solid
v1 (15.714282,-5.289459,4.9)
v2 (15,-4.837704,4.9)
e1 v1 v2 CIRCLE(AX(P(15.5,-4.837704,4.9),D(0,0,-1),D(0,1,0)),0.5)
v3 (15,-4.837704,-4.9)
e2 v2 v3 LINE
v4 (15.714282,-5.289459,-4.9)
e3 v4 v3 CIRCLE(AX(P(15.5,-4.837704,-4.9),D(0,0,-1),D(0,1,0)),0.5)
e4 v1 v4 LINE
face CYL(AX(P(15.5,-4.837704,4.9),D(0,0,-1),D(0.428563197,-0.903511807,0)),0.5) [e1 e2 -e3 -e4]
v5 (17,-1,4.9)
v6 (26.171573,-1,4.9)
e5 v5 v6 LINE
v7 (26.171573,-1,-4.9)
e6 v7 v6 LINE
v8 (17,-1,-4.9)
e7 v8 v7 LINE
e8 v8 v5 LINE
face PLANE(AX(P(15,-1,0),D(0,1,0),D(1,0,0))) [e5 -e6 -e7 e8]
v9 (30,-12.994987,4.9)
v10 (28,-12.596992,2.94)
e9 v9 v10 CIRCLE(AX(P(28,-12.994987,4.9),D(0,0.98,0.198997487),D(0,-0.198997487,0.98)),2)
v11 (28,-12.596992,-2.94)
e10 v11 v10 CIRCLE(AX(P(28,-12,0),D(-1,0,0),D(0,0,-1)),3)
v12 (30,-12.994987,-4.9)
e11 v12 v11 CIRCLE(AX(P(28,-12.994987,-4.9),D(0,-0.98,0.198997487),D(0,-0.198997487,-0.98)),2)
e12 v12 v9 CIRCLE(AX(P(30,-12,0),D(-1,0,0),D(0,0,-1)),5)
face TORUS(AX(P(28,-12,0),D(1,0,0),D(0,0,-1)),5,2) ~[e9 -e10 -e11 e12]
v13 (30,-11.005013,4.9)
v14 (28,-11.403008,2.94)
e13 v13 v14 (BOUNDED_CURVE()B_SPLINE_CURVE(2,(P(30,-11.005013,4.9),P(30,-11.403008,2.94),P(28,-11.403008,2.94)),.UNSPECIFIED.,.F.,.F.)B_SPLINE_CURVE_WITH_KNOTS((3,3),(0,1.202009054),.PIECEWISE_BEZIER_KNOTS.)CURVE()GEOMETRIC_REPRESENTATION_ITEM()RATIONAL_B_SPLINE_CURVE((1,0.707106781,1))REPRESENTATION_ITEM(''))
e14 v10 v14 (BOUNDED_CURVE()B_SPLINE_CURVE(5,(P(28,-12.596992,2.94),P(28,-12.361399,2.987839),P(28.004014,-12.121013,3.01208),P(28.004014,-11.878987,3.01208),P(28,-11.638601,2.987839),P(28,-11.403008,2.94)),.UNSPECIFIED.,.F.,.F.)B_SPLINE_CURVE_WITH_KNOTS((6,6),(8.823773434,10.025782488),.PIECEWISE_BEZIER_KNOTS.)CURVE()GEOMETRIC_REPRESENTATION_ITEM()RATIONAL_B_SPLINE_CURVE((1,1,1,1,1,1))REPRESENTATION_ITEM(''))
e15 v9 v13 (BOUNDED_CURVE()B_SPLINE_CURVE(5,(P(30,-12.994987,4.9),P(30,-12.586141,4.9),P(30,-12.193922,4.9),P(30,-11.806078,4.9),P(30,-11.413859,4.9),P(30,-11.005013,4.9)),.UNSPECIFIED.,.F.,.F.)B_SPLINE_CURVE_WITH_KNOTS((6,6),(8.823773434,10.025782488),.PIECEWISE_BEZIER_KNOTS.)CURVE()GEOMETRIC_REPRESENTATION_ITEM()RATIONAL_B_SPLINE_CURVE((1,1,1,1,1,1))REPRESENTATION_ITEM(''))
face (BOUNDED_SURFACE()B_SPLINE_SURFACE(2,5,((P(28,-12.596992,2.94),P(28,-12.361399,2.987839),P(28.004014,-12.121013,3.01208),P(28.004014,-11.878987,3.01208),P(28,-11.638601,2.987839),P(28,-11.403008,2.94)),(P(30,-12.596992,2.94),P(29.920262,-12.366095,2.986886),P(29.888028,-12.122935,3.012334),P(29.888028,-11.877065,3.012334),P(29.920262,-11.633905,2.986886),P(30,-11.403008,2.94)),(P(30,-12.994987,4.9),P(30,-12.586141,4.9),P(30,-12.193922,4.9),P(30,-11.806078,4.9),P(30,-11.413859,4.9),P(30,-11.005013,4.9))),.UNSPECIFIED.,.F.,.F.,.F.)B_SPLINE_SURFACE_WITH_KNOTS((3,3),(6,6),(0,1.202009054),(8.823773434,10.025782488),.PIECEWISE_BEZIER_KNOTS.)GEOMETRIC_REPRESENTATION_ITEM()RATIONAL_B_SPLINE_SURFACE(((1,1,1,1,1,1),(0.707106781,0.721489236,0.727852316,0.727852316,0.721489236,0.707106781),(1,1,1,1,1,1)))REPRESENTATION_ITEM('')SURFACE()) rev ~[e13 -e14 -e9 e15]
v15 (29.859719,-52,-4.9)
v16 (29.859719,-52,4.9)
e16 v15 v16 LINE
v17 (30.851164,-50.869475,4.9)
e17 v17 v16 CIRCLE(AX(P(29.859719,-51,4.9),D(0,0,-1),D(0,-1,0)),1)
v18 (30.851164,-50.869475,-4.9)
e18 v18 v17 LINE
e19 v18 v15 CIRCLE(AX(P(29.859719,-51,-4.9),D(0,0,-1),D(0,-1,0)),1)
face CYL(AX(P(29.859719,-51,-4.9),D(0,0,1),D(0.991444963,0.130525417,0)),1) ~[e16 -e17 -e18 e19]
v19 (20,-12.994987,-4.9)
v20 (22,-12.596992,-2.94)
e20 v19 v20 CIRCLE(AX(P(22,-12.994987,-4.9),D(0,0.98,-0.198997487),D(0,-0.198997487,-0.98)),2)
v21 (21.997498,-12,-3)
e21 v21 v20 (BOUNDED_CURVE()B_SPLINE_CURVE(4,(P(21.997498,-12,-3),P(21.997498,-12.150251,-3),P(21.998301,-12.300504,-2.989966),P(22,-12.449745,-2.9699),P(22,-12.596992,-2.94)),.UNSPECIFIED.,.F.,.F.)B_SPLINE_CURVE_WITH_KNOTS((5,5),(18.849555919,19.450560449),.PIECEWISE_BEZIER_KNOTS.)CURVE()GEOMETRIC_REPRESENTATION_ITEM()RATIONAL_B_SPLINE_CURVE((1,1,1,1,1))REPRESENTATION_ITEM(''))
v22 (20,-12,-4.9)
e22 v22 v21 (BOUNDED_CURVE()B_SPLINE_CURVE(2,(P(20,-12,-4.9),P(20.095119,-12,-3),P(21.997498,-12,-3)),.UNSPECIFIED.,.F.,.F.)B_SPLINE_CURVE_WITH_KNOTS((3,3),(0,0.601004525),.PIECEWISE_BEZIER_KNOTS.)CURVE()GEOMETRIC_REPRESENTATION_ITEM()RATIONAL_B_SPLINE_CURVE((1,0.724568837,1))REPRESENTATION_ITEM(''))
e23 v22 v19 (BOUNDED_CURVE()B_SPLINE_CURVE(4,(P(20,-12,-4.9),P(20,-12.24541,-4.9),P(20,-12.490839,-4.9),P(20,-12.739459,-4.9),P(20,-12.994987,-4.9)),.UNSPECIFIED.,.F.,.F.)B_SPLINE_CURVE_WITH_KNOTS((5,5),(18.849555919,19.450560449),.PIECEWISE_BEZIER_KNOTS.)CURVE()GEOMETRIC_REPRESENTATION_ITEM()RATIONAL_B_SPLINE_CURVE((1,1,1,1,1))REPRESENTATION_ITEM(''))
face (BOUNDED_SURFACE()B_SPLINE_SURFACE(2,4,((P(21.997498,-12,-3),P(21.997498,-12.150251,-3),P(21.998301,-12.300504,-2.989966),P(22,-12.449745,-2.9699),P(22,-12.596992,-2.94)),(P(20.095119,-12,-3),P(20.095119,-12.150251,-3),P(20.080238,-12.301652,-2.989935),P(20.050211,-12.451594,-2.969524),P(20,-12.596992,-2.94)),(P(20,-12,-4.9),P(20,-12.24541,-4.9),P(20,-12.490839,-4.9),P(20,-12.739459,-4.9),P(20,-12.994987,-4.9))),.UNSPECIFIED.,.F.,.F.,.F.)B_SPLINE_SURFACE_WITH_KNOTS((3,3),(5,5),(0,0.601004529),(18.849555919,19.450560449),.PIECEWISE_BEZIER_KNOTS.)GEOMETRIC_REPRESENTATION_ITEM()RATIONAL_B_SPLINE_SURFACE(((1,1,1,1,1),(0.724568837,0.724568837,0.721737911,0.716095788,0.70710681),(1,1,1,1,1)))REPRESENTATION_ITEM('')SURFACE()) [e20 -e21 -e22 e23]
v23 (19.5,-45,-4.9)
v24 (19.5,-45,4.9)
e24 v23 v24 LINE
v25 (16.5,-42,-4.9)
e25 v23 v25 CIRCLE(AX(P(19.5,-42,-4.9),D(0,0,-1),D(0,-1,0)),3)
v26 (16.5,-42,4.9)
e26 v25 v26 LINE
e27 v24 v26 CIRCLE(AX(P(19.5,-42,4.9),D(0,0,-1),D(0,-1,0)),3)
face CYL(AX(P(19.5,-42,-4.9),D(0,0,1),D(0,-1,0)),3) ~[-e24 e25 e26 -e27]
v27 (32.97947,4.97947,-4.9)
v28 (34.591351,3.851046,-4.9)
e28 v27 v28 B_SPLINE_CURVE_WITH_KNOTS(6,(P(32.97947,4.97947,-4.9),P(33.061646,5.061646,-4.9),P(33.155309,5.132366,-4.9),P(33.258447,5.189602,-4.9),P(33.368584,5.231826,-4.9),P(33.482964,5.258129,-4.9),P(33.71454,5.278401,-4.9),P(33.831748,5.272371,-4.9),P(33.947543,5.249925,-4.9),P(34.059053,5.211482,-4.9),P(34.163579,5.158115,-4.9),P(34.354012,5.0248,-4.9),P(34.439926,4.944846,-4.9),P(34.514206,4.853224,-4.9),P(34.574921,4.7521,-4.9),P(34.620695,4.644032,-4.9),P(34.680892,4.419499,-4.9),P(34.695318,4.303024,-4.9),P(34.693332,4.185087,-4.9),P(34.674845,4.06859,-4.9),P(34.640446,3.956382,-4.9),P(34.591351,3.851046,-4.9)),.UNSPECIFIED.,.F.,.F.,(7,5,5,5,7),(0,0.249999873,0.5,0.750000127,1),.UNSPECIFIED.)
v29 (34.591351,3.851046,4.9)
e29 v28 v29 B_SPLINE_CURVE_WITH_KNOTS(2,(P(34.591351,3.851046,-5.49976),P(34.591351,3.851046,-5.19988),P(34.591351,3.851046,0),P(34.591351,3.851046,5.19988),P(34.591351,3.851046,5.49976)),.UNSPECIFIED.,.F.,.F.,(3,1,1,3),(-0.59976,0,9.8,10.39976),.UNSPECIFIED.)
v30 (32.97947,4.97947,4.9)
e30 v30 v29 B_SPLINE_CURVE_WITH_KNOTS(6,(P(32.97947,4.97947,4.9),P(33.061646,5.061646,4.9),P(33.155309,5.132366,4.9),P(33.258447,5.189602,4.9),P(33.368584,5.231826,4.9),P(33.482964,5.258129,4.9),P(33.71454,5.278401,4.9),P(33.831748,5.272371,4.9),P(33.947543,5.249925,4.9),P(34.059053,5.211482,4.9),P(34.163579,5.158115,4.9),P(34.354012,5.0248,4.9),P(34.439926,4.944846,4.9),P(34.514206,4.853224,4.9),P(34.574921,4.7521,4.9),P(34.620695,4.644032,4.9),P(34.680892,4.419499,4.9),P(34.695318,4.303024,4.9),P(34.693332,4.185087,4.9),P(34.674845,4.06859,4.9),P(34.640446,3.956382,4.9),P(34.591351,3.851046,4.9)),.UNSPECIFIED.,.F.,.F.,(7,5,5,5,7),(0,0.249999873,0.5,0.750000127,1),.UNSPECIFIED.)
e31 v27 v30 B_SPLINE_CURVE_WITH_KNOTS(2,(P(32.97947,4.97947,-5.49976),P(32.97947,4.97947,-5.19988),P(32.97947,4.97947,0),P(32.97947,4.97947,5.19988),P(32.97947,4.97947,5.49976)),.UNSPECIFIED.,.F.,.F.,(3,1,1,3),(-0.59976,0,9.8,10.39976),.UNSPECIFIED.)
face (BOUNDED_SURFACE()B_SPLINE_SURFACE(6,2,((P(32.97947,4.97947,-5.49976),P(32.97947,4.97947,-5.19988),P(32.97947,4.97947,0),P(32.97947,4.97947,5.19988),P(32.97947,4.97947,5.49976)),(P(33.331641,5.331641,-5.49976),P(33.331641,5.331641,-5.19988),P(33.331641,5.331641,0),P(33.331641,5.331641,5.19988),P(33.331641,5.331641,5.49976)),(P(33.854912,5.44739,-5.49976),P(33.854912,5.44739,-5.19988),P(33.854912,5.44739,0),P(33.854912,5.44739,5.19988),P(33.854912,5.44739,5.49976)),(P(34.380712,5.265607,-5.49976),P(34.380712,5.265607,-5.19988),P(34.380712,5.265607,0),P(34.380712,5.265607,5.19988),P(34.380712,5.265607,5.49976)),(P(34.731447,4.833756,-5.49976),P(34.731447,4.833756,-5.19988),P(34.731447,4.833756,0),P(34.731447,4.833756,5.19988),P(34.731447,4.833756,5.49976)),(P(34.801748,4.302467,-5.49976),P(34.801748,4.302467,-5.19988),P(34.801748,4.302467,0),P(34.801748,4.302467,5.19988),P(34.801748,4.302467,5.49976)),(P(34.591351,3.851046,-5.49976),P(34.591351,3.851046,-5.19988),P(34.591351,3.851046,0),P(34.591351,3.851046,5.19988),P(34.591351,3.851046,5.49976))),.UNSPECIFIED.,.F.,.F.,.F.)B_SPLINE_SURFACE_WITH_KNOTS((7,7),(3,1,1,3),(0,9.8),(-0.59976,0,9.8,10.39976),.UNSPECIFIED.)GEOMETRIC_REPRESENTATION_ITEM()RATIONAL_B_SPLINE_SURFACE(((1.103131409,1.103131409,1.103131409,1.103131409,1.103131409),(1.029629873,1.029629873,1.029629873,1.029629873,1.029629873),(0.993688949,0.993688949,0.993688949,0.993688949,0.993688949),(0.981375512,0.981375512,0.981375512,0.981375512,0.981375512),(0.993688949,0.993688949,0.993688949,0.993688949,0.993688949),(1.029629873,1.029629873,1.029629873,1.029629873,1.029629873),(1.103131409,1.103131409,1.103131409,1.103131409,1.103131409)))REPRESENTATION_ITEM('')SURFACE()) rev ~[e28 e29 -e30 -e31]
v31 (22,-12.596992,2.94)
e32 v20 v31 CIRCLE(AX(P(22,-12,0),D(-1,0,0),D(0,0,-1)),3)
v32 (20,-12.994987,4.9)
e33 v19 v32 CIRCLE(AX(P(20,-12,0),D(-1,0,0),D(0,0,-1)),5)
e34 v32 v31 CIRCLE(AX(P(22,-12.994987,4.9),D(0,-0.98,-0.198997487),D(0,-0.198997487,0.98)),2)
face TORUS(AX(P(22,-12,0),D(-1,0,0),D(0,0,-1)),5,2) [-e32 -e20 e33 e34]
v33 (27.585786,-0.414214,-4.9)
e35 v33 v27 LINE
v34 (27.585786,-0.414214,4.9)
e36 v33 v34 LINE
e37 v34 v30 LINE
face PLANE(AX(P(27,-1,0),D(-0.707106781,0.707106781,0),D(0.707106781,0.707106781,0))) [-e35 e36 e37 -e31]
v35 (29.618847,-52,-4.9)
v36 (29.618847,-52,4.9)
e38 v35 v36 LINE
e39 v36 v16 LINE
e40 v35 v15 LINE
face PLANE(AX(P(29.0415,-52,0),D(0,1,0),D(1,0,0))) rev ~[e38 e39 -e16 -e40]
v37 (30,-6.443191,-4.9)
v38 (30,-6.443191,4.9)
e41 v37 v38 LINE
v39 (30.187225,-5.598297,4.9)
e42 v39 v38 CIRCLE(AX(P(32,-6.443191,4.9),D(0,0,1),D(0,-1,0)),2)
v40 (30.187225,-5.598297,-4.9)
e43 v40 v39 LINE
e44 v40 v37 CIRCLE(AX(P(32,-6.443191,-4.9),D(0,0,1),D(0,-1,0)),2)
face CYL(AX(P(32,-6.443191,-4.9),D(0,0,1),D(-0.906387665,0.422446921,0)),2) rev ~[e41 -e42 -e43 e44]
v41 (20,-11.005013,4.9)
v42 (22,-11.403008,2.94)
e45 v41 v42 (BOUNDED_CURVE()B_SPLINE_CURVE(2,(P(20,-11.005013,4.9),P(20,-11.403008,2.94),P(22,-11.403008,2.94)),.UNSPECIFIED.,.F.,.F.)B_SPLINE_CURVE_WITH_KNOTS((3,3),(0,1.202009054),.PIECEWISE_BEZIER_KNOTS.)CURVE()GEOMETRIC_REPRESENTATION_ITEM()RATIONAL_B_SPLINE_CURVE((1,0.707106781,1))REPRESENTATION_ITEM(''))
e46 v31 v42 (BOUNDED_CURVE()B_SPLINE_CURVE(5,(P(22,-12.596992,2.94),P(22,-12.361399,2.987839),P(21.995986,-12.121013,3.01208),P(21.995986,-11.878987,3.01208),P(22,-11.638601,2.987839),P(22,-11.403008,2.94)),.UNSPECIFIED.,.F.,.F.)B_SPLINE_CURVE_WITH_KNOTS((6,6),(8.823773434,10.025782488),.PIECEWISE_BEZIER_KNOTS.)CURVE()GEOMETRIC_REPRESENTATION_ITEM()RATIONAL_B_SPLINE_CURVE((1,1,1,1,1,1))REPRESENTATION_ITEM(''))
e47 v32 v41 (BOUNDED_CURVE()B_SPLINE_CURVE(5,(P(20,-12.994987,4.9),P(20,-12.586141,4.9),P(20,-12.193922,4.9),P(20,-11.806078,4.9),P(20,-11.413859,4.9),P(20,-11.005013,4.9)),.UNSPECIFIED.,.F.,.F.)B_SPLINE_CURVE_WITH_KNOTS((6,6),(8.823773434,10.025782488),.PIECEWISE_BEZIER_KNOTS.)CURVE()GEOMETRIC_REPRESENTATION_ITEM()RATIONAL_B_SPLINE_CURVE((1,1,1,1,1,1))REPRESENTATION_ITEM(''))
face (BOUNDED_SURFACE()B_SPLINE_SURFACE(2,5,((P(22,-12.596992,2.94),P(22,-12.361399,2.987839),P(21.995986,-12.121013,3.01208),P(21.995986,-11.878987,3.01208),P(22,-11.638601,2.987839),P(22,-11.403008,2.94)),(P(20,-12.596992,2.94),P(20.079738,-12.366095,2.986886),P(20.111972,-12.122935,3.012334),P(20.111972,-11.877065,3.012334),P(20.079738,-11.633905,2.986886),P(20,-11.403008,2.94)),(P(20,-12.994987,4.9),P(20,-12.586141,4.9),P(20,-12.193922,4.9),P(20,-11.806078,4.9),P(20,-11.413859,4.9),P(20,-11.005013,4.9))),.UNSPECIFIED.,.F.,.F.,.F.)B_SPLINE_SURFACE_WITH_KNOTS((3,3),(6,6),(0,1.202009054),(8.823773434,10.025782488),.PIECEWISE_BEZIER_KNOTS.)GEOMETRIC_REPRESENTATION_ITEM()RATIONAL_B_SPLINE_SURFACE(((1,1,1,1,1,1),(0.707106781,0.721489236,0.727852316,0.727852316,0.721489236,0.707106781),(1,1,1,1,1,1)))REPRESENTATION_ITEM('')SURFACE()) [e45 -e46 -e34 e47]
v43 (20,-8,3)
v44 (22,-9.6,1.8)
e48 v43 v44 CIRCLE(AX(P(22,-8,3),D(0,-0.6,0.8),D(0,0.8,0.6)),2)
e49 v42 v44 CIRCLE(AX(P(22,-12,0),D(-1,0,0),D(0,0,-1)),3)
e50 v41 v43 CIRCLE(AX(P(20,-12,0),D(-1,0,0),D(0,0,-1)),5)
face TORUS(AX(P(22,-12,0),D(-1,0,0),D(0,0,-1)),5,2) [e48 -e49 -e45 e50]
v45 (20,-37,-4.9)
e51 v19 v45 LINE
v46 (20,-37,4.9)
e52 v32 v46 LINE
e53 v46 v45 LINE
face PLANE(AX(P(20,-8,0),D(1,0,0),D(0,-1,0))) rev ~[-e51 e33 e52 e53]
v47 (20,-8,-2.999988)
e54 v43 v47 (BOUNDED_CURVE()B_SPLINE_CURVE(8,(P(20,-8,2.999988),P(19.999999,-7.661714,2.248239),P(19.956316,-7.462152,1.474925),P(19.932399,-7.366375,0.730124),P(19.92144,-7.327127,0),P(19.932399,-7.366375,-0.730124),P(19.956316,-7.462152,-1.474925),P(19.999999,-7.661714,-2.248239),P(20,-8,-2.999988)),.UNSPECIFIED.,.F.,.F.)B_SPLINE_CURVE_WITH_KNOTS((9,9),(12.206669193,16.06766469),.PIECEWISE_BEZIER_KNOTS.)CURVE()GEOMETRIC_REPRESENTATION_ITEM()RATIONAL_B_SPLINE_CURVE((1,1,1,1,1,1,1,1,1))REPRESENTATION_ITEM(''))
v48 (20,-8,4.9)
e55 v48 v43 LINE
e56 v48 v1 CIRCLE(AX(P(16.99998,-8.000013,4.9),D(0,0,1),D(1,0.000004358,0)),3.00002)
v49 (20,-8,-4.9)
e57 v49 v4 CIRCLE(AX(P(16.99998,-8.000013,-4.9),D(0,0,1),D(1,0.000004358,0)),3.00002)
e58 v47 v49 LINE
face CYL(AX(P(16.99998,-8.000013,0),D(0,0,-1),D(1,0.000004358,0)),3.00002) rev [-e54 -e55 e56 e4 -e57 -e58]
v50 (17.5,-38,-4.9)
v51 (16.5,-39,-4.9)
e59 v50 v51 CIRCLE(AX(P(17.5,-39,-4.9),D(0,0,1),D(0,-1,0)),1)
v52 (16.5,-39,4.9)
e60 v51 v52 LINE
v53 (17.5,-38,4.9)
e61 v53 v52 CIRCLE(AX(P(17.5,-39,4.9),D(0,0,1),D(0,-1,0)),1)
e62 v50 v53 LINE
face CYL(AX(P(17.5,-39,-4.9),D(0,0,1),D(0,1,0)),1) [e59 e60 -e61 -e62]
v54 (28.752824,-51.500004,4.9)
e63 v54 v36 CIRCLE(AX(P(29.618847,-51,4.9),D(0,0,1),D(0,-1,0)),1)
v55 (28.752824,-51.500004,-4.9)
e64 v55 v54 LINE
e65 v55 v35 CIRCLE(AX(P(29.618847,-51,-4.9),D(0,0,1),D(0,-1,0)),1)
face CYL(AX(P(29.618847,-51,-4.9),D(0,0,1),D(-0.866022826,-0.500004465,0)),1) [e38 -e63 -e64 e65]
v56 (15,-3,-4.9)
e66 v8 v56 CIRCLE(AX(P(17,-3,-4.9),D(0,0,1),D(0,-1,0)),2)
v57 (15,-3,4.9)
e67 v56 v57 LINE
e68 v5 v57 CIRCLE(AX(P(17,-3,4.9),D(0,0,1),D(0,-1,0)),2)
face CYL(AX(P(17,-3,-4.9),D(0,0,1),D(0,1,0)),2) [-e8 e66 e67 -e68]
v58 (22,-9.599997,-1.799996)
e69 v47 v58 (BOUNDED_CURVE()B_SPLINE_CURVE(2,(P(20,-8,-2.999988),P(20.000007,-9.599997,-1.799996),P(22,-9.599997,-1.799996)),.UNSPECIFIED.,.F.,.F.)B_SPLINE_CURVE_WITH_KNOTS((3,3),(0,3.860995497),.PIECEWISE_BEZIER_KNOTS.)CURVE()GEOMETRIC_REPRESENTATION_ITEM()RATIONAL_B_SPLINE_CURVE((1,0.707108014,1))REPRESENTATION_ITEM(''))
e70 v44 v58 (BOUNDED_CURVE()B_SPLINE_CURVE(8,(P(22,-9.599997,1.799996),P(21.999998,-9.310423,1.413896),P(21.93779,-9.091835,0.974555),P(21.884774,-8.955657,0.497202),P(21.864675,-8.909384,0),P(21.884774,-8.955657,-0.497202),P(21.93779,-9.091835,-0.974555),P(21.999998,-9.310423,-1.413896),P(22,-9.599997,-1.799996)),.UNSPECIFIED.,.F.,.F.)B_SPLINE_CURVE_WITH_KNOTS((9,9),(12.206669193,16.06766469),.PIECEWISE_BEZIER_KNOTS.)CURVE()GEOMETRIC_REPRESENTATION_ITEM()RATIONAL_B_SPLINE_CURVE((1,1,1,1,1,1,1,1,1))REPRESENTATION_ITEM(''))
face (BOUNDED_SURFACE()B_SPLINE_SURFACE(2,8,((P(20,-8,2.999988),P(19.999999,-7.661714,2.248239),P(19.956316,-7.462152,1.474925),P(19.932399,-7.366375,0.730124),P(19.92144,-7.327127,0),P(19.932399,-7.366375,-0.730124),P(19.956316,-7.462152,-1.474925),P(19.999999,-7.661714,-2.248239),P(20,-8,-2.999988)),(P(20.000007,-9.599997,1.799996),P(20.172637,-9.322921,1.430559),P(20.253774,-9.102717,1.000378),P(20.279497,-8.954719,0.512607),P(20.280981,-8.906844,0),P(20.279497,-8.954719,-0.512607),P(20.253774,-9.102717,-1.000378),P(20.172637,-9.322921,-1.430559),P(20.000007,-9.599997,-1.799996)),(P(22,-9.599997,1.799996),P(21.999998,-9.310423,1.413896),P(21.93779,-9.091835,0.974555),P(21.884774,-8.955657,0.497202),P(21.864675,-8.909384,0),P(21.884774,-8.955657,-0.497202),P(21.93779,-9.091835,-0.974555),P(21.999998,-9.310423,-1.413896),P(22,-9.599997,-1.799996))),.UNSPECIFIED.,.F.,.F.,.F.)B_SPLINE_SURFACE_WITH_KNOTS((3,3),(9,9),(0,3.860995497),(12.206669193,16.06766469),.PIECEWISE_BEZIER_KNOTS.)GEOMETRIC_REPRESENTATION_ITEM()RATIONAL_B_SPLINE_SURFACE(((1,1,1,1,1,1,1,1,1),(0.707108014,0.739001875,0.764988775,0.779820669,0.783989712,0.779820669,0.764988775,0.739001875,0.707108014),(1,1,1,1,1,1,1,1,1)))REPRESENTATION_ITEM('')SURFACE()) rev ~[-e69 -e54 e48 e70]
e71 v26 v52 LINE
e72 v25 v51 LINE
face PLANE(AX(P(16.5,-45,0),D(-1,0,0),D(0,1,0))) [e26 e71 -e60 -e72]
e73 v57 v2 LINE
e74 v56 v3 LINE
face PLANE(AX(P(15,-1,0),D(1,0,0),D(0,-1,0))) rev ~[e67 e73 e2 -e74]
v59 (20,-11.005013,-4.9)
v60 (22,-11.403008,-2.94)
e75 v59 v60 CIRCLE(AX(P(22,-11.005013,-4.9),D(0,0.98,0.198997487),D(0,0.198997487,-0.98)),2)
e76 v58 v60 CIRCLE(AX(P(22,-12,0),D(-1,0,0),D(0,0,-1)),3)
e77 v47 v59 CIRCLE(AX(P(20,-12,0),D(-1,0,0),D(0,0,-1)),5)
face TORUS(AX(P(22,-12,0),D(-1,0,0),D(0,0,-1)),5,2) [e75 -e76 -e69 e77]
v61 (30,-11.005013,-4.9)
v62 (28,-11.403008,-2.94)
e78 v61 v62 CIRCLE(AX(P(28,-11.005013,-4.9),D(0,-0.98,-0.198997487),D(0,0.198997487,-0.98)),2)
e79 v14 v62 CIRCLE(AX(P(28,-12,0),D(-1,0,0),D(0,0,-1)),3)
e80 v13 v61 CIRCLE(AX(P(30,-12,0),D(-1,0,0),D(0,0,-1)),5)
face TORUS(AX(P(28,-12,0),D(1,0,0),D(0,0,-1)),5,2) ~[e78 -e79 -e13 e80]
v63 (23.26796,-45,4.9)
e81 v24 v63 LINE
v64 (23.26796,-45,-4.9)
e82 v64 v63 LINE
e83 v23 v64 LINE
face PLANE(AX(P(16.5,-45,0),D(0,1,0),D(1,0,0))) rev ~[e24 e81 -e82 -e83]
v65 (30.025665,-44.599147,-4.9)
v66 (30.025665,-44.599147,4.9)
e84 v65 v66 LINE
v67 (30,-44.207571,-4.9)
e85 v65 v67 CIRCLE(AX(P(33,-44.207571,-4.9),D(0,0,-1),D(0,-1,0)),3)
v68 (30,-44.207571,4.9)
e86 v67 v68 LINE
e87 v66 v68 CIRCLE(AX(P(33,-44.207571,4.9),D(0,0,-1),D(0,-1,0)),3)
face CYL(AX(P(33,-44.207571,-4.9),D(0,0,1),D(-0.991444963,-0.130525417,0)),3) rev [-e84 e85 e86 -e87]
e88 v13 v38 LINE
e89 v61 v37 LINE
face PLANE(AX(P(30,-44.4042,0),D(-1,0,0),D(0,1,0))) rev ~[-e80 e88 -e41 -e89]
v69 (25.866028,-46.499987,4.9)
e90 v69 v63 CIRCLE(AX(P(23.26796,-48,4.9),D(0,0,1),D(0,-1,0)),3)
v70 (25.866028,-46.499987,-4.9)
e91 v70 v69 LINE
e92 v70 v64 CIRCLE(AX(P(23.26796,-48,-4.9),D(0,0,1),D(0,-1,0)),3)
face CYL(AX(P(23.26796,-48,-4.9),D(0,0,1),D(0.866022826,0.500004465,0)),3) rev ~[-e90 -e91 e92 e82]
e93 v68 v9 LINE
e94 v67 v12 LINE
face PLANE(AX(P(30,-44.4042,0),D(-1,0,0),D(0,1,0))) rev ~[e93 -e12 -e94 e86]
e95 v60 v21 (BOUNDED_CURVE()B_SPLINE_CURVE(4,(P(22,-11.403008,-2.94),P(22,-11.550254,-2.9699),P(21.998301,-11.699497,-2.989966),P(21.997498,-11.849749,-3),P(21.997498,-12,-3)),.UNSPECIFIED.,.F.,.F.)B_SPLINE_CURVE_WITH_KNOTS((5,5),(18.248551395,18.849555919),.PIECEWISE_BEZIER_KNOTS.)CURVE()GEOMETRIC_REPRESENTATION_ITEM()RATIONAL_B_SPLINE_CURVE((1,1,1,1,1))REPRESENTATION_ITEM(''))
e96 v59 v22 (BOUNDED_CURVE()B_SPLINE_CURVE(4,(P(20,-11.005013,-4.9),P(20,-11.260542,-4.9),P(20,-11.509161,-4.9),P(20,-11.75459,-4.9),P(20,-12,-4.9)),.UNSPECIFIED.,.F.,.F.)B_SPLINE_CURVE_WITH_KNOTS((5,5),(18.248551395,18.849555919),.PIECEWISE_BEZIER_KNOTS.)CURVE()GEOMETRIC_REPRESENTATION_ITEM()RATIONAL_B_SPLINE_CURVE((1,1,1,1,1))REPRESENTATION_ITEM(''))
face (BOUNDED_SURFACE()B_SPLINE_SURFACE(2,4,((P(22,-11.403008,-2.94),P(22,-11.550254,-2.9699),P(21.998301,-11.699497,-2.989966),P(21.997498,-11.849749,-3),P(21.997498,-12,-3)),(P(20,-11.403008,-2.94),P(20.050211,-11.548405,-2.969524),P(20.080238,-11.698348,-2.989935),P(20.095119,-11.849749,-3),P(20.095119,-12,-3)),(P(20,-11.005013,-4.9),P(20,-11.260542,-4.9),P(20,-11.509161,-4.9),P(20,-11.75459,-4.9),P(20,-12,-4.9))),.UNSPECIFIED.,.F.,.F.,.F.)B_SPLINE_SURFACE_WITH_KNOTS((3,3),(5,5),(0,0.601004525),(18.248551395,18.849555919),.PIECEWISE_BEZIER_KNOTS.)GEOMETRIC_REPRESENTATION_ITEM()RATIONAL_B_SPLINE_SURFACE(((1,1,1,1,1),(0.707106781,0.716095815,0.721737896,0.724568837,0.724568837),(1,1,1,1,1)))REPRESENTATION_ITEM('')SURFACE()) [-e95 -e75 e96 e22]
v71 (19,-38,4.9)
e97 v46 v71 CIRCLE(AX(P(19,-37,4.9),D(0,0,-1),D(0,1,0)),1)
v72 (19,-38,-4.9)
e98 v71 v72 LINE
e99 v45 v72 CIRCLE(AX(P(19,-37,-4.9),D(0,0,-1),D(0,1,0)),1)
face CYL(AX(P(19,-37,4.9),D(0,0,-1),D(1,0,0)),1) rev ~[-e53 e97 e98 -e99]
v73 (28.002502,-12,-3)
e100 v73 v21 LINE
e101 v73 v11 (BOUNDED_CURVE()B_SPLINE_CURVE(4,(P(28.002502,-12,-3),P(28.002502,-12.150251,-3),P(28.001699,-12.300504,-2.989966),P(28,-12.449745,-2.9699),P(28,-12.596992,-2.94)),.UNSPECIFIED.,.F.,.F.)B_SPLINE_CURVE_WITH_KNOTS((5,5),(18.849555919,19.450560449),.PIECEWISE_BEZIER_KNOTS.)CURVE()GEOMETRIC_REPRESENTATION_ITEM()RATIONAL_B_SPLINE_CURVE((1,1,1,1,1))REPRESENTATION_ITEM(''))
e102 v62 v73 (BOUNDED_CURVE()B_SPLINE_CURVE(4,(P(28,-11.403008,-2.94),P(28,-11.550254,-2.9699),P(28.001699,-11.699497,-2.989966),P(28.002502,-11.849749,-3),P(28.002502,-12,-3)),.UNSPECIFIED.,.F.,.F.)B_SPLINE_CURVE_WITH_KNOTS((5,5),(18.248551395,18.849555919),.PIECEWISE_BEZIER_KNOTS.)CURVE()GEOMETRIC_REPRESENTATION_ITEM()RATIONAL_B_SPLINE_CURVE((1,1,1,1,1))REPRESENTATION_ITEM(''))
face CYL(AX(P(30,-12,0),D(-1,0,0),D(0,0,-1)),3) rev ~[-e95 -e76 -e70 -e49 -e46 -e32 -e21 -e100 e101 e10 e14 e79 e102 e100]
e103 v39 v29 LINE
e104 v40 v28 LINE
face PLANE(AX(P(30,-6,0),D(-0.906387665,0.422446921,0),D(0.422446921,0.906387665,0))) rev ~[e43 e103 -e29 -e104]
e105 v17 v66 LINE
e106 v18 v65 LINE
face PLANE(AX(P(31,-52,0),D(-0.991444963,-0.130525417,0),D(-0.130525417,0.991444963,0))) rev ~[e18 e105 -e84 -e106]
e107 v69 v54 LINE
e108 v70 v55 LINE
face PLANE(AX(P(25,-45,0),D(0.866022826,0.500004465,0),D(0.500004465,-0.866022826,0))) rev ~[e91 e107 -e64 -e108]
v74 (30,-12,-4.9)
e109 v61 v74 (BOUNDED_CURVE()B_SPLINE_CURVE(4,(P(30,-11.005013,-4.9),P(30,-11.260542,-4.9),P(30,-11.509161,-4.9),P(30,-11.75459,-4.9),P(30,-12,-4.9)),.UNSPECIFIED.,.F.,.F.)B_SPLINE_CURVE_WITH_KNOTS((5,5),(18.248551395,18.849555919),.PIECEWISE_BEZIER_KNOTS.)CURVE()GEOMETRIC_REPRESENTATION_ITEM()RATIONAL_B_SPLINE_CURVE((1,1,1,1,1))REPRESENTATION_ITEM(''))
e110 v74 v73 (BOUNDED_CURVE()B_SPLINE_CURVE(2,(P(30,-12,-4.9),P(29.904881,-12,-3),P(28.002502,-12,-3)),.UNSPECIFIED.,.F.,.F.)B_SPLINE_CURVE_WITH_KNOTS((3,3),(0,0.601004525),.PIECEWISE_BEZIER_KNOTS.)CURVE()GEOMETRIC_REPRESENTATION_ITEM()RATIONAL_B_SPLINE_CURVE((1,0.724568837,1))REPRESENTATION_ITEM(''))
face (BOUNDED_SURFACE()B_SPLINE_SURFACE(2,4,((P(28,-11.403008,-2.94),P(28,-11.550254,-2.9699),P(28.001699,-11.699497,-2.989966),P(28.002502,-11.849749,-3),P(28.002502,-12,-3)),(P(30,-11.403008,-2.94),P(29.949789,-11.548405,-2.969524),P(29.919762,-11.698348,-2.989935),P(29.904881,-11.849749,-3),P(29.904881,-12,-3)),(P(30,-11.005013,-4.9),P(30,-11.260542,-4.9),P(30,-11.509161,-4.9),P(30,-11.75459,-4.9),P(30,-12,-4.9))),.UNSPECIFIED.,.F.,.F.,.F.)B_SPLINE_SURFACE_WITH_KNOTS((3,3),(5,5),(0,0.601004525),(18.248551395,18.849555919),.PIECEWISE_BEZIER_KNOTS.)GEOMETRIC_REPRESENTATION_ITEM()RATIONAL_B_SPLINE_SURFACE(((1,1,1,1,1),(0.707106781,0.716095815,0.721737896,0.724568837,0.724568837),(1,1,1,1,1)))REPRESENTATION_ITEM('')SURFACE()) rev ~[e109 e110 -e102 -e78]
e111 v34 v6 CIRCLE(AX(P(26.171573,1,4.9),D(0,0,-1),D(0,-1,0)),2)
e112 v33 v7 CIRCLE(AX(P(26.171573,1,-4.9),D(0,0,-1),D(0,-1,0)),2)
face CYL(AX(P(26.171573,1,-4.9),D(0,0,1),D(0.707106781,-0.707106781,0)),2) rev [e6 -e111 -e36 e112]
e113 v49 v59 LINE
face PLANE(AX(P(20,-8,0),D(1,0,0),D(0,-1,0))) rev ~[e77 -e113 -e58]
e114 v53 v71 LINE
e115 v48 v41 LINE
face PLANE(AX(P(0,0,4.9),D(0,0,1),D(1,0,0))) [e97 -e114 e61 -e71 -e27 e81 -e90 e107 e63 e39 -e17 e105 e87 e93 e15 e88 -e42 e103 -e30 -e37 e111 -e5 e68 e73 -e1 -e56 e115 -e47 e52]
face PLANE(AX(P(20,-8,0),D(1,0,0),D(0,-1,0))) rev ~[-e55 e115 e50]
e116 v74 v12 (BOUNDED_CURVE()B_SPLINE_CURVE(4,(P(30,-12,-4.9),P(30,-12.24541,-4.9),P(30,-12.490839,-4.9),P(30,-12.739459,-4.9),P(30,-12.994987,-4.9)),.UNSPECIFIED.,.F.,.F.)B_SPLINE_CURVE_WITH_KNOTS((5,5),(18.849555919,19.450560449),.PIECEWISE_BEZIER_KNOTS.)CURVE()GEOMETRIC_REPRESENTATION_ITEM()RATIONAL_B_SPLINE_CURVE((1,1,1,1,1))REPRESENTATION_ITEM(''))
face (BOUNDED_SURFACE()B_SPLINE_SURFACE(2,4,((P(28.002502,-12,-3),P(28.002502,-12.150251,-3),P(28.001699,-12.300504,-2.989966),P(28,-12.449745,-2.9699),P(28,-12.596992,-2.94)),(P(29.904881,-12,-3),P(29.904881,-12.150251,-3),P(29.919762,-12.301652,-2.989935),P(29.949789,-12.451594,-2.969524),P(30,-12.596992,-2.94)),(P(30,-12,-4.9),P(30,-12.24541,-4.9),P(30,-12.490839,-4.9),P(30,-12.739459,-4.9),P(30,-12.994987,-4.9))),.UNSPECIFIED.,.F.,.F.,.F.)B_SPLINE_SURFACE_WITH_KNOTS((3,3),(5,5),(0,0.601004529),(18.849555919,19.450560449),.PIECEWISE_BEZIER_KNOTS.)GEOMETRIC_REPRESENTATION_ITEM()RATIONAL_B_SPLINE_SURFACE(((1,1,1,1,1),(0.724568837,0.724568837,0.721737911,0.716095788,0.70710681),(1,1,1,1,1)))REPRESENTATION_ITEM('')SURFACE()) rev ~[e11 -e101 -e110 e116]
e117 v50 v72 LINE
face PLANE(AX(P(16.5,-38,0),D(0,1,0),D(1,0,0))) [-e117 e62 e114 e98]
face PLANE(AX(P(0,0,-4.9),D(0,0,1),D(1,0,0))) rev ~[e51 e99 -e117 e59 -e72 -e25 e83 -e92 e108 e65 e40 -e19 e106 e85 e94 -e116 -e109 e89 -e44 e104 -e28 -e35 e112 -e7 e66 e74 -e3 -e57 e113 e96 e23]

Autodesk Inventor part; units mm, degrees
ref_plane "YZ Plane" through (0, 0, 0) normal (1, 0, 0) x (0, 1, 0)
ref_plane "XZ Plane" through (0, 0, 0) normal (0, 1, 0) x (-1, 0, 0)
ref_plane "XY Plane" through (0, 0, 0) normal (0, 0, 1) x (1, 0, 0)
sketch "Sketch1" plane through (0, 0, 0) normal (0, 0, 1) x (1, 0, 0)
  line L0 (20, -22) -> (4.1, -22) construction
  line L1 (4.1, -22) -> (4.1, -25) construction
  line L2 (4.1, -25) -> (0, -25) construction
  line L3 (30, -47) -> (20, -47) construction
  circle A0 centre (17, -17) radius 3 construction
  line L4 (14, -17) -> (14, 0) construction
  line L5 (14, 0) -> (30, 0) construction
  line L6 (20, -47) -> (20, -17) construction
  line L7 (20, -47) -> (30, -47) construction
  line L8 (30, -47) -> (30, 0) construction
  line L9 (0, -25) -> (0, 0) construction
  line L10 (30, 0) -> (30, -47) construction
  line L11 (-7.0263, 0) -> (42.1581, 0) construction
  line L12 (0, -63.6142) -> (0, 17.6853) construction
  line L13 (17, -17) -> (17, -8) construction
  circle A1 centre (17, -8) radius 3 construction
  line L14 (16.5, -38) -> (20, -38)
  line L15 (16.5, -45) -> (25, -45)
  line L16 (25, -45) -> (29.0415, -52)
  line L17 (29.0415, -52) -> (31, -52)
  line L18 (31, -52) -> (30, -44.4042)
  line L19 (30, -44.4042) -> (30, -1)
  line L20 (15, -1) -> (30, -1)
  line L21 (15, -1) -> (15, -5.7639)
  line L22 (16.5, -45) -> (16.5, -38)
  arc A2 (20, -8) -> (15, -5.7639) centre (17, -8) ccw
  line L23 (20, -8) -> (20, -38)
  line L24 (27, -1) -> (34.0711, 6.0711)
  line L25 (34.0711, 6.0711) -> (35.1317, 5.0104)
  line L26 (30, -6) -> (35.1317, 5.0104)
  point P0 (0, 0)
  point P1 (0, 0)
  dimension "d10" = 6
  dimension "d1" = 3
  dimension "d2" = 5
  dimension "d3" = 14
  dimension "d4" = 20
  dimension "d5" = 22
  dimension "d6" = 30
  dimension "d7" = 4.1
  dimension "d8" = 3
  dimension "d9" = 25
  dimension "d11" = 9
  dimension "d12" = 0
  dimension "d13" = 16
  dimension "d14" = 7
  dimension "d15" = 3.5
  dimension "d16" = 120
  dimension "d17" = 7.5
  dimension "d19" = 5
  dimension "d20" = 5
  dimension "d21" = 1
  dimension "d22" = 1
  dimension "d23" = 1
  dimension "d40" = 45
  dimension "d41" = 3
  dimension "d42" = 10
  dimension "d43" = 5
  dimension "d46" = 1.5
extrude "Extrusion1" add sketch "Sketch1" along normal mid plane 9.8
fillet "Fillet1" radius 0.5 1 edges at (15, -5.7639, 0)
fillet "Fillet2" radius 1 2 edges at (29.0415, -52, 0) (31, -52, 0)
fillet "Fillet3" radius 3 3 edges at (16.5, -45, 0) (25, -45, 0) (30, -44.4042, 0)
fillet "Fillet4" radius 2 1 edges at (15, -1, 0)
fillet "Fillet5" radius 1 1 edges at (20, -38, 0)
sketch "Sketch2" plane through (30, -44.2076, 4.9) normal (1, 0, 0) x (0, 0, -1)
  line L0 (-1.96, 44.2076) -> (11.76, 44.2076) construction
  line L1 (4.9, -19.4066) -> (4.9, 61.8929) construction
  point P0 (4.9, 44.2076)
  point P1 (4.9, 32.2076)
  dimension "d44" = 12
hole "Hole1" at (30, -12, 0) direction (-1, 0, 0) diameter 6 end through all
fillet "Fillet6" radius 2 2 edges at (30, -12, 3) (20, -12, 3)
fillet "Fillet8" radius 1 2 edges at (34.0711, 6.0711, 0) (35.1317, 5.0104, 0)
fillet "Fillet9" radius 2 1 edges at (27, -1, 0)
fillet "Fillet10" radius 1 1 edges at (16.5, -38, 0)
fillet "Fillet11" radius 2 1 edges at (30, -6, 0)
properties part number "P104" material "ABS Plastic"
